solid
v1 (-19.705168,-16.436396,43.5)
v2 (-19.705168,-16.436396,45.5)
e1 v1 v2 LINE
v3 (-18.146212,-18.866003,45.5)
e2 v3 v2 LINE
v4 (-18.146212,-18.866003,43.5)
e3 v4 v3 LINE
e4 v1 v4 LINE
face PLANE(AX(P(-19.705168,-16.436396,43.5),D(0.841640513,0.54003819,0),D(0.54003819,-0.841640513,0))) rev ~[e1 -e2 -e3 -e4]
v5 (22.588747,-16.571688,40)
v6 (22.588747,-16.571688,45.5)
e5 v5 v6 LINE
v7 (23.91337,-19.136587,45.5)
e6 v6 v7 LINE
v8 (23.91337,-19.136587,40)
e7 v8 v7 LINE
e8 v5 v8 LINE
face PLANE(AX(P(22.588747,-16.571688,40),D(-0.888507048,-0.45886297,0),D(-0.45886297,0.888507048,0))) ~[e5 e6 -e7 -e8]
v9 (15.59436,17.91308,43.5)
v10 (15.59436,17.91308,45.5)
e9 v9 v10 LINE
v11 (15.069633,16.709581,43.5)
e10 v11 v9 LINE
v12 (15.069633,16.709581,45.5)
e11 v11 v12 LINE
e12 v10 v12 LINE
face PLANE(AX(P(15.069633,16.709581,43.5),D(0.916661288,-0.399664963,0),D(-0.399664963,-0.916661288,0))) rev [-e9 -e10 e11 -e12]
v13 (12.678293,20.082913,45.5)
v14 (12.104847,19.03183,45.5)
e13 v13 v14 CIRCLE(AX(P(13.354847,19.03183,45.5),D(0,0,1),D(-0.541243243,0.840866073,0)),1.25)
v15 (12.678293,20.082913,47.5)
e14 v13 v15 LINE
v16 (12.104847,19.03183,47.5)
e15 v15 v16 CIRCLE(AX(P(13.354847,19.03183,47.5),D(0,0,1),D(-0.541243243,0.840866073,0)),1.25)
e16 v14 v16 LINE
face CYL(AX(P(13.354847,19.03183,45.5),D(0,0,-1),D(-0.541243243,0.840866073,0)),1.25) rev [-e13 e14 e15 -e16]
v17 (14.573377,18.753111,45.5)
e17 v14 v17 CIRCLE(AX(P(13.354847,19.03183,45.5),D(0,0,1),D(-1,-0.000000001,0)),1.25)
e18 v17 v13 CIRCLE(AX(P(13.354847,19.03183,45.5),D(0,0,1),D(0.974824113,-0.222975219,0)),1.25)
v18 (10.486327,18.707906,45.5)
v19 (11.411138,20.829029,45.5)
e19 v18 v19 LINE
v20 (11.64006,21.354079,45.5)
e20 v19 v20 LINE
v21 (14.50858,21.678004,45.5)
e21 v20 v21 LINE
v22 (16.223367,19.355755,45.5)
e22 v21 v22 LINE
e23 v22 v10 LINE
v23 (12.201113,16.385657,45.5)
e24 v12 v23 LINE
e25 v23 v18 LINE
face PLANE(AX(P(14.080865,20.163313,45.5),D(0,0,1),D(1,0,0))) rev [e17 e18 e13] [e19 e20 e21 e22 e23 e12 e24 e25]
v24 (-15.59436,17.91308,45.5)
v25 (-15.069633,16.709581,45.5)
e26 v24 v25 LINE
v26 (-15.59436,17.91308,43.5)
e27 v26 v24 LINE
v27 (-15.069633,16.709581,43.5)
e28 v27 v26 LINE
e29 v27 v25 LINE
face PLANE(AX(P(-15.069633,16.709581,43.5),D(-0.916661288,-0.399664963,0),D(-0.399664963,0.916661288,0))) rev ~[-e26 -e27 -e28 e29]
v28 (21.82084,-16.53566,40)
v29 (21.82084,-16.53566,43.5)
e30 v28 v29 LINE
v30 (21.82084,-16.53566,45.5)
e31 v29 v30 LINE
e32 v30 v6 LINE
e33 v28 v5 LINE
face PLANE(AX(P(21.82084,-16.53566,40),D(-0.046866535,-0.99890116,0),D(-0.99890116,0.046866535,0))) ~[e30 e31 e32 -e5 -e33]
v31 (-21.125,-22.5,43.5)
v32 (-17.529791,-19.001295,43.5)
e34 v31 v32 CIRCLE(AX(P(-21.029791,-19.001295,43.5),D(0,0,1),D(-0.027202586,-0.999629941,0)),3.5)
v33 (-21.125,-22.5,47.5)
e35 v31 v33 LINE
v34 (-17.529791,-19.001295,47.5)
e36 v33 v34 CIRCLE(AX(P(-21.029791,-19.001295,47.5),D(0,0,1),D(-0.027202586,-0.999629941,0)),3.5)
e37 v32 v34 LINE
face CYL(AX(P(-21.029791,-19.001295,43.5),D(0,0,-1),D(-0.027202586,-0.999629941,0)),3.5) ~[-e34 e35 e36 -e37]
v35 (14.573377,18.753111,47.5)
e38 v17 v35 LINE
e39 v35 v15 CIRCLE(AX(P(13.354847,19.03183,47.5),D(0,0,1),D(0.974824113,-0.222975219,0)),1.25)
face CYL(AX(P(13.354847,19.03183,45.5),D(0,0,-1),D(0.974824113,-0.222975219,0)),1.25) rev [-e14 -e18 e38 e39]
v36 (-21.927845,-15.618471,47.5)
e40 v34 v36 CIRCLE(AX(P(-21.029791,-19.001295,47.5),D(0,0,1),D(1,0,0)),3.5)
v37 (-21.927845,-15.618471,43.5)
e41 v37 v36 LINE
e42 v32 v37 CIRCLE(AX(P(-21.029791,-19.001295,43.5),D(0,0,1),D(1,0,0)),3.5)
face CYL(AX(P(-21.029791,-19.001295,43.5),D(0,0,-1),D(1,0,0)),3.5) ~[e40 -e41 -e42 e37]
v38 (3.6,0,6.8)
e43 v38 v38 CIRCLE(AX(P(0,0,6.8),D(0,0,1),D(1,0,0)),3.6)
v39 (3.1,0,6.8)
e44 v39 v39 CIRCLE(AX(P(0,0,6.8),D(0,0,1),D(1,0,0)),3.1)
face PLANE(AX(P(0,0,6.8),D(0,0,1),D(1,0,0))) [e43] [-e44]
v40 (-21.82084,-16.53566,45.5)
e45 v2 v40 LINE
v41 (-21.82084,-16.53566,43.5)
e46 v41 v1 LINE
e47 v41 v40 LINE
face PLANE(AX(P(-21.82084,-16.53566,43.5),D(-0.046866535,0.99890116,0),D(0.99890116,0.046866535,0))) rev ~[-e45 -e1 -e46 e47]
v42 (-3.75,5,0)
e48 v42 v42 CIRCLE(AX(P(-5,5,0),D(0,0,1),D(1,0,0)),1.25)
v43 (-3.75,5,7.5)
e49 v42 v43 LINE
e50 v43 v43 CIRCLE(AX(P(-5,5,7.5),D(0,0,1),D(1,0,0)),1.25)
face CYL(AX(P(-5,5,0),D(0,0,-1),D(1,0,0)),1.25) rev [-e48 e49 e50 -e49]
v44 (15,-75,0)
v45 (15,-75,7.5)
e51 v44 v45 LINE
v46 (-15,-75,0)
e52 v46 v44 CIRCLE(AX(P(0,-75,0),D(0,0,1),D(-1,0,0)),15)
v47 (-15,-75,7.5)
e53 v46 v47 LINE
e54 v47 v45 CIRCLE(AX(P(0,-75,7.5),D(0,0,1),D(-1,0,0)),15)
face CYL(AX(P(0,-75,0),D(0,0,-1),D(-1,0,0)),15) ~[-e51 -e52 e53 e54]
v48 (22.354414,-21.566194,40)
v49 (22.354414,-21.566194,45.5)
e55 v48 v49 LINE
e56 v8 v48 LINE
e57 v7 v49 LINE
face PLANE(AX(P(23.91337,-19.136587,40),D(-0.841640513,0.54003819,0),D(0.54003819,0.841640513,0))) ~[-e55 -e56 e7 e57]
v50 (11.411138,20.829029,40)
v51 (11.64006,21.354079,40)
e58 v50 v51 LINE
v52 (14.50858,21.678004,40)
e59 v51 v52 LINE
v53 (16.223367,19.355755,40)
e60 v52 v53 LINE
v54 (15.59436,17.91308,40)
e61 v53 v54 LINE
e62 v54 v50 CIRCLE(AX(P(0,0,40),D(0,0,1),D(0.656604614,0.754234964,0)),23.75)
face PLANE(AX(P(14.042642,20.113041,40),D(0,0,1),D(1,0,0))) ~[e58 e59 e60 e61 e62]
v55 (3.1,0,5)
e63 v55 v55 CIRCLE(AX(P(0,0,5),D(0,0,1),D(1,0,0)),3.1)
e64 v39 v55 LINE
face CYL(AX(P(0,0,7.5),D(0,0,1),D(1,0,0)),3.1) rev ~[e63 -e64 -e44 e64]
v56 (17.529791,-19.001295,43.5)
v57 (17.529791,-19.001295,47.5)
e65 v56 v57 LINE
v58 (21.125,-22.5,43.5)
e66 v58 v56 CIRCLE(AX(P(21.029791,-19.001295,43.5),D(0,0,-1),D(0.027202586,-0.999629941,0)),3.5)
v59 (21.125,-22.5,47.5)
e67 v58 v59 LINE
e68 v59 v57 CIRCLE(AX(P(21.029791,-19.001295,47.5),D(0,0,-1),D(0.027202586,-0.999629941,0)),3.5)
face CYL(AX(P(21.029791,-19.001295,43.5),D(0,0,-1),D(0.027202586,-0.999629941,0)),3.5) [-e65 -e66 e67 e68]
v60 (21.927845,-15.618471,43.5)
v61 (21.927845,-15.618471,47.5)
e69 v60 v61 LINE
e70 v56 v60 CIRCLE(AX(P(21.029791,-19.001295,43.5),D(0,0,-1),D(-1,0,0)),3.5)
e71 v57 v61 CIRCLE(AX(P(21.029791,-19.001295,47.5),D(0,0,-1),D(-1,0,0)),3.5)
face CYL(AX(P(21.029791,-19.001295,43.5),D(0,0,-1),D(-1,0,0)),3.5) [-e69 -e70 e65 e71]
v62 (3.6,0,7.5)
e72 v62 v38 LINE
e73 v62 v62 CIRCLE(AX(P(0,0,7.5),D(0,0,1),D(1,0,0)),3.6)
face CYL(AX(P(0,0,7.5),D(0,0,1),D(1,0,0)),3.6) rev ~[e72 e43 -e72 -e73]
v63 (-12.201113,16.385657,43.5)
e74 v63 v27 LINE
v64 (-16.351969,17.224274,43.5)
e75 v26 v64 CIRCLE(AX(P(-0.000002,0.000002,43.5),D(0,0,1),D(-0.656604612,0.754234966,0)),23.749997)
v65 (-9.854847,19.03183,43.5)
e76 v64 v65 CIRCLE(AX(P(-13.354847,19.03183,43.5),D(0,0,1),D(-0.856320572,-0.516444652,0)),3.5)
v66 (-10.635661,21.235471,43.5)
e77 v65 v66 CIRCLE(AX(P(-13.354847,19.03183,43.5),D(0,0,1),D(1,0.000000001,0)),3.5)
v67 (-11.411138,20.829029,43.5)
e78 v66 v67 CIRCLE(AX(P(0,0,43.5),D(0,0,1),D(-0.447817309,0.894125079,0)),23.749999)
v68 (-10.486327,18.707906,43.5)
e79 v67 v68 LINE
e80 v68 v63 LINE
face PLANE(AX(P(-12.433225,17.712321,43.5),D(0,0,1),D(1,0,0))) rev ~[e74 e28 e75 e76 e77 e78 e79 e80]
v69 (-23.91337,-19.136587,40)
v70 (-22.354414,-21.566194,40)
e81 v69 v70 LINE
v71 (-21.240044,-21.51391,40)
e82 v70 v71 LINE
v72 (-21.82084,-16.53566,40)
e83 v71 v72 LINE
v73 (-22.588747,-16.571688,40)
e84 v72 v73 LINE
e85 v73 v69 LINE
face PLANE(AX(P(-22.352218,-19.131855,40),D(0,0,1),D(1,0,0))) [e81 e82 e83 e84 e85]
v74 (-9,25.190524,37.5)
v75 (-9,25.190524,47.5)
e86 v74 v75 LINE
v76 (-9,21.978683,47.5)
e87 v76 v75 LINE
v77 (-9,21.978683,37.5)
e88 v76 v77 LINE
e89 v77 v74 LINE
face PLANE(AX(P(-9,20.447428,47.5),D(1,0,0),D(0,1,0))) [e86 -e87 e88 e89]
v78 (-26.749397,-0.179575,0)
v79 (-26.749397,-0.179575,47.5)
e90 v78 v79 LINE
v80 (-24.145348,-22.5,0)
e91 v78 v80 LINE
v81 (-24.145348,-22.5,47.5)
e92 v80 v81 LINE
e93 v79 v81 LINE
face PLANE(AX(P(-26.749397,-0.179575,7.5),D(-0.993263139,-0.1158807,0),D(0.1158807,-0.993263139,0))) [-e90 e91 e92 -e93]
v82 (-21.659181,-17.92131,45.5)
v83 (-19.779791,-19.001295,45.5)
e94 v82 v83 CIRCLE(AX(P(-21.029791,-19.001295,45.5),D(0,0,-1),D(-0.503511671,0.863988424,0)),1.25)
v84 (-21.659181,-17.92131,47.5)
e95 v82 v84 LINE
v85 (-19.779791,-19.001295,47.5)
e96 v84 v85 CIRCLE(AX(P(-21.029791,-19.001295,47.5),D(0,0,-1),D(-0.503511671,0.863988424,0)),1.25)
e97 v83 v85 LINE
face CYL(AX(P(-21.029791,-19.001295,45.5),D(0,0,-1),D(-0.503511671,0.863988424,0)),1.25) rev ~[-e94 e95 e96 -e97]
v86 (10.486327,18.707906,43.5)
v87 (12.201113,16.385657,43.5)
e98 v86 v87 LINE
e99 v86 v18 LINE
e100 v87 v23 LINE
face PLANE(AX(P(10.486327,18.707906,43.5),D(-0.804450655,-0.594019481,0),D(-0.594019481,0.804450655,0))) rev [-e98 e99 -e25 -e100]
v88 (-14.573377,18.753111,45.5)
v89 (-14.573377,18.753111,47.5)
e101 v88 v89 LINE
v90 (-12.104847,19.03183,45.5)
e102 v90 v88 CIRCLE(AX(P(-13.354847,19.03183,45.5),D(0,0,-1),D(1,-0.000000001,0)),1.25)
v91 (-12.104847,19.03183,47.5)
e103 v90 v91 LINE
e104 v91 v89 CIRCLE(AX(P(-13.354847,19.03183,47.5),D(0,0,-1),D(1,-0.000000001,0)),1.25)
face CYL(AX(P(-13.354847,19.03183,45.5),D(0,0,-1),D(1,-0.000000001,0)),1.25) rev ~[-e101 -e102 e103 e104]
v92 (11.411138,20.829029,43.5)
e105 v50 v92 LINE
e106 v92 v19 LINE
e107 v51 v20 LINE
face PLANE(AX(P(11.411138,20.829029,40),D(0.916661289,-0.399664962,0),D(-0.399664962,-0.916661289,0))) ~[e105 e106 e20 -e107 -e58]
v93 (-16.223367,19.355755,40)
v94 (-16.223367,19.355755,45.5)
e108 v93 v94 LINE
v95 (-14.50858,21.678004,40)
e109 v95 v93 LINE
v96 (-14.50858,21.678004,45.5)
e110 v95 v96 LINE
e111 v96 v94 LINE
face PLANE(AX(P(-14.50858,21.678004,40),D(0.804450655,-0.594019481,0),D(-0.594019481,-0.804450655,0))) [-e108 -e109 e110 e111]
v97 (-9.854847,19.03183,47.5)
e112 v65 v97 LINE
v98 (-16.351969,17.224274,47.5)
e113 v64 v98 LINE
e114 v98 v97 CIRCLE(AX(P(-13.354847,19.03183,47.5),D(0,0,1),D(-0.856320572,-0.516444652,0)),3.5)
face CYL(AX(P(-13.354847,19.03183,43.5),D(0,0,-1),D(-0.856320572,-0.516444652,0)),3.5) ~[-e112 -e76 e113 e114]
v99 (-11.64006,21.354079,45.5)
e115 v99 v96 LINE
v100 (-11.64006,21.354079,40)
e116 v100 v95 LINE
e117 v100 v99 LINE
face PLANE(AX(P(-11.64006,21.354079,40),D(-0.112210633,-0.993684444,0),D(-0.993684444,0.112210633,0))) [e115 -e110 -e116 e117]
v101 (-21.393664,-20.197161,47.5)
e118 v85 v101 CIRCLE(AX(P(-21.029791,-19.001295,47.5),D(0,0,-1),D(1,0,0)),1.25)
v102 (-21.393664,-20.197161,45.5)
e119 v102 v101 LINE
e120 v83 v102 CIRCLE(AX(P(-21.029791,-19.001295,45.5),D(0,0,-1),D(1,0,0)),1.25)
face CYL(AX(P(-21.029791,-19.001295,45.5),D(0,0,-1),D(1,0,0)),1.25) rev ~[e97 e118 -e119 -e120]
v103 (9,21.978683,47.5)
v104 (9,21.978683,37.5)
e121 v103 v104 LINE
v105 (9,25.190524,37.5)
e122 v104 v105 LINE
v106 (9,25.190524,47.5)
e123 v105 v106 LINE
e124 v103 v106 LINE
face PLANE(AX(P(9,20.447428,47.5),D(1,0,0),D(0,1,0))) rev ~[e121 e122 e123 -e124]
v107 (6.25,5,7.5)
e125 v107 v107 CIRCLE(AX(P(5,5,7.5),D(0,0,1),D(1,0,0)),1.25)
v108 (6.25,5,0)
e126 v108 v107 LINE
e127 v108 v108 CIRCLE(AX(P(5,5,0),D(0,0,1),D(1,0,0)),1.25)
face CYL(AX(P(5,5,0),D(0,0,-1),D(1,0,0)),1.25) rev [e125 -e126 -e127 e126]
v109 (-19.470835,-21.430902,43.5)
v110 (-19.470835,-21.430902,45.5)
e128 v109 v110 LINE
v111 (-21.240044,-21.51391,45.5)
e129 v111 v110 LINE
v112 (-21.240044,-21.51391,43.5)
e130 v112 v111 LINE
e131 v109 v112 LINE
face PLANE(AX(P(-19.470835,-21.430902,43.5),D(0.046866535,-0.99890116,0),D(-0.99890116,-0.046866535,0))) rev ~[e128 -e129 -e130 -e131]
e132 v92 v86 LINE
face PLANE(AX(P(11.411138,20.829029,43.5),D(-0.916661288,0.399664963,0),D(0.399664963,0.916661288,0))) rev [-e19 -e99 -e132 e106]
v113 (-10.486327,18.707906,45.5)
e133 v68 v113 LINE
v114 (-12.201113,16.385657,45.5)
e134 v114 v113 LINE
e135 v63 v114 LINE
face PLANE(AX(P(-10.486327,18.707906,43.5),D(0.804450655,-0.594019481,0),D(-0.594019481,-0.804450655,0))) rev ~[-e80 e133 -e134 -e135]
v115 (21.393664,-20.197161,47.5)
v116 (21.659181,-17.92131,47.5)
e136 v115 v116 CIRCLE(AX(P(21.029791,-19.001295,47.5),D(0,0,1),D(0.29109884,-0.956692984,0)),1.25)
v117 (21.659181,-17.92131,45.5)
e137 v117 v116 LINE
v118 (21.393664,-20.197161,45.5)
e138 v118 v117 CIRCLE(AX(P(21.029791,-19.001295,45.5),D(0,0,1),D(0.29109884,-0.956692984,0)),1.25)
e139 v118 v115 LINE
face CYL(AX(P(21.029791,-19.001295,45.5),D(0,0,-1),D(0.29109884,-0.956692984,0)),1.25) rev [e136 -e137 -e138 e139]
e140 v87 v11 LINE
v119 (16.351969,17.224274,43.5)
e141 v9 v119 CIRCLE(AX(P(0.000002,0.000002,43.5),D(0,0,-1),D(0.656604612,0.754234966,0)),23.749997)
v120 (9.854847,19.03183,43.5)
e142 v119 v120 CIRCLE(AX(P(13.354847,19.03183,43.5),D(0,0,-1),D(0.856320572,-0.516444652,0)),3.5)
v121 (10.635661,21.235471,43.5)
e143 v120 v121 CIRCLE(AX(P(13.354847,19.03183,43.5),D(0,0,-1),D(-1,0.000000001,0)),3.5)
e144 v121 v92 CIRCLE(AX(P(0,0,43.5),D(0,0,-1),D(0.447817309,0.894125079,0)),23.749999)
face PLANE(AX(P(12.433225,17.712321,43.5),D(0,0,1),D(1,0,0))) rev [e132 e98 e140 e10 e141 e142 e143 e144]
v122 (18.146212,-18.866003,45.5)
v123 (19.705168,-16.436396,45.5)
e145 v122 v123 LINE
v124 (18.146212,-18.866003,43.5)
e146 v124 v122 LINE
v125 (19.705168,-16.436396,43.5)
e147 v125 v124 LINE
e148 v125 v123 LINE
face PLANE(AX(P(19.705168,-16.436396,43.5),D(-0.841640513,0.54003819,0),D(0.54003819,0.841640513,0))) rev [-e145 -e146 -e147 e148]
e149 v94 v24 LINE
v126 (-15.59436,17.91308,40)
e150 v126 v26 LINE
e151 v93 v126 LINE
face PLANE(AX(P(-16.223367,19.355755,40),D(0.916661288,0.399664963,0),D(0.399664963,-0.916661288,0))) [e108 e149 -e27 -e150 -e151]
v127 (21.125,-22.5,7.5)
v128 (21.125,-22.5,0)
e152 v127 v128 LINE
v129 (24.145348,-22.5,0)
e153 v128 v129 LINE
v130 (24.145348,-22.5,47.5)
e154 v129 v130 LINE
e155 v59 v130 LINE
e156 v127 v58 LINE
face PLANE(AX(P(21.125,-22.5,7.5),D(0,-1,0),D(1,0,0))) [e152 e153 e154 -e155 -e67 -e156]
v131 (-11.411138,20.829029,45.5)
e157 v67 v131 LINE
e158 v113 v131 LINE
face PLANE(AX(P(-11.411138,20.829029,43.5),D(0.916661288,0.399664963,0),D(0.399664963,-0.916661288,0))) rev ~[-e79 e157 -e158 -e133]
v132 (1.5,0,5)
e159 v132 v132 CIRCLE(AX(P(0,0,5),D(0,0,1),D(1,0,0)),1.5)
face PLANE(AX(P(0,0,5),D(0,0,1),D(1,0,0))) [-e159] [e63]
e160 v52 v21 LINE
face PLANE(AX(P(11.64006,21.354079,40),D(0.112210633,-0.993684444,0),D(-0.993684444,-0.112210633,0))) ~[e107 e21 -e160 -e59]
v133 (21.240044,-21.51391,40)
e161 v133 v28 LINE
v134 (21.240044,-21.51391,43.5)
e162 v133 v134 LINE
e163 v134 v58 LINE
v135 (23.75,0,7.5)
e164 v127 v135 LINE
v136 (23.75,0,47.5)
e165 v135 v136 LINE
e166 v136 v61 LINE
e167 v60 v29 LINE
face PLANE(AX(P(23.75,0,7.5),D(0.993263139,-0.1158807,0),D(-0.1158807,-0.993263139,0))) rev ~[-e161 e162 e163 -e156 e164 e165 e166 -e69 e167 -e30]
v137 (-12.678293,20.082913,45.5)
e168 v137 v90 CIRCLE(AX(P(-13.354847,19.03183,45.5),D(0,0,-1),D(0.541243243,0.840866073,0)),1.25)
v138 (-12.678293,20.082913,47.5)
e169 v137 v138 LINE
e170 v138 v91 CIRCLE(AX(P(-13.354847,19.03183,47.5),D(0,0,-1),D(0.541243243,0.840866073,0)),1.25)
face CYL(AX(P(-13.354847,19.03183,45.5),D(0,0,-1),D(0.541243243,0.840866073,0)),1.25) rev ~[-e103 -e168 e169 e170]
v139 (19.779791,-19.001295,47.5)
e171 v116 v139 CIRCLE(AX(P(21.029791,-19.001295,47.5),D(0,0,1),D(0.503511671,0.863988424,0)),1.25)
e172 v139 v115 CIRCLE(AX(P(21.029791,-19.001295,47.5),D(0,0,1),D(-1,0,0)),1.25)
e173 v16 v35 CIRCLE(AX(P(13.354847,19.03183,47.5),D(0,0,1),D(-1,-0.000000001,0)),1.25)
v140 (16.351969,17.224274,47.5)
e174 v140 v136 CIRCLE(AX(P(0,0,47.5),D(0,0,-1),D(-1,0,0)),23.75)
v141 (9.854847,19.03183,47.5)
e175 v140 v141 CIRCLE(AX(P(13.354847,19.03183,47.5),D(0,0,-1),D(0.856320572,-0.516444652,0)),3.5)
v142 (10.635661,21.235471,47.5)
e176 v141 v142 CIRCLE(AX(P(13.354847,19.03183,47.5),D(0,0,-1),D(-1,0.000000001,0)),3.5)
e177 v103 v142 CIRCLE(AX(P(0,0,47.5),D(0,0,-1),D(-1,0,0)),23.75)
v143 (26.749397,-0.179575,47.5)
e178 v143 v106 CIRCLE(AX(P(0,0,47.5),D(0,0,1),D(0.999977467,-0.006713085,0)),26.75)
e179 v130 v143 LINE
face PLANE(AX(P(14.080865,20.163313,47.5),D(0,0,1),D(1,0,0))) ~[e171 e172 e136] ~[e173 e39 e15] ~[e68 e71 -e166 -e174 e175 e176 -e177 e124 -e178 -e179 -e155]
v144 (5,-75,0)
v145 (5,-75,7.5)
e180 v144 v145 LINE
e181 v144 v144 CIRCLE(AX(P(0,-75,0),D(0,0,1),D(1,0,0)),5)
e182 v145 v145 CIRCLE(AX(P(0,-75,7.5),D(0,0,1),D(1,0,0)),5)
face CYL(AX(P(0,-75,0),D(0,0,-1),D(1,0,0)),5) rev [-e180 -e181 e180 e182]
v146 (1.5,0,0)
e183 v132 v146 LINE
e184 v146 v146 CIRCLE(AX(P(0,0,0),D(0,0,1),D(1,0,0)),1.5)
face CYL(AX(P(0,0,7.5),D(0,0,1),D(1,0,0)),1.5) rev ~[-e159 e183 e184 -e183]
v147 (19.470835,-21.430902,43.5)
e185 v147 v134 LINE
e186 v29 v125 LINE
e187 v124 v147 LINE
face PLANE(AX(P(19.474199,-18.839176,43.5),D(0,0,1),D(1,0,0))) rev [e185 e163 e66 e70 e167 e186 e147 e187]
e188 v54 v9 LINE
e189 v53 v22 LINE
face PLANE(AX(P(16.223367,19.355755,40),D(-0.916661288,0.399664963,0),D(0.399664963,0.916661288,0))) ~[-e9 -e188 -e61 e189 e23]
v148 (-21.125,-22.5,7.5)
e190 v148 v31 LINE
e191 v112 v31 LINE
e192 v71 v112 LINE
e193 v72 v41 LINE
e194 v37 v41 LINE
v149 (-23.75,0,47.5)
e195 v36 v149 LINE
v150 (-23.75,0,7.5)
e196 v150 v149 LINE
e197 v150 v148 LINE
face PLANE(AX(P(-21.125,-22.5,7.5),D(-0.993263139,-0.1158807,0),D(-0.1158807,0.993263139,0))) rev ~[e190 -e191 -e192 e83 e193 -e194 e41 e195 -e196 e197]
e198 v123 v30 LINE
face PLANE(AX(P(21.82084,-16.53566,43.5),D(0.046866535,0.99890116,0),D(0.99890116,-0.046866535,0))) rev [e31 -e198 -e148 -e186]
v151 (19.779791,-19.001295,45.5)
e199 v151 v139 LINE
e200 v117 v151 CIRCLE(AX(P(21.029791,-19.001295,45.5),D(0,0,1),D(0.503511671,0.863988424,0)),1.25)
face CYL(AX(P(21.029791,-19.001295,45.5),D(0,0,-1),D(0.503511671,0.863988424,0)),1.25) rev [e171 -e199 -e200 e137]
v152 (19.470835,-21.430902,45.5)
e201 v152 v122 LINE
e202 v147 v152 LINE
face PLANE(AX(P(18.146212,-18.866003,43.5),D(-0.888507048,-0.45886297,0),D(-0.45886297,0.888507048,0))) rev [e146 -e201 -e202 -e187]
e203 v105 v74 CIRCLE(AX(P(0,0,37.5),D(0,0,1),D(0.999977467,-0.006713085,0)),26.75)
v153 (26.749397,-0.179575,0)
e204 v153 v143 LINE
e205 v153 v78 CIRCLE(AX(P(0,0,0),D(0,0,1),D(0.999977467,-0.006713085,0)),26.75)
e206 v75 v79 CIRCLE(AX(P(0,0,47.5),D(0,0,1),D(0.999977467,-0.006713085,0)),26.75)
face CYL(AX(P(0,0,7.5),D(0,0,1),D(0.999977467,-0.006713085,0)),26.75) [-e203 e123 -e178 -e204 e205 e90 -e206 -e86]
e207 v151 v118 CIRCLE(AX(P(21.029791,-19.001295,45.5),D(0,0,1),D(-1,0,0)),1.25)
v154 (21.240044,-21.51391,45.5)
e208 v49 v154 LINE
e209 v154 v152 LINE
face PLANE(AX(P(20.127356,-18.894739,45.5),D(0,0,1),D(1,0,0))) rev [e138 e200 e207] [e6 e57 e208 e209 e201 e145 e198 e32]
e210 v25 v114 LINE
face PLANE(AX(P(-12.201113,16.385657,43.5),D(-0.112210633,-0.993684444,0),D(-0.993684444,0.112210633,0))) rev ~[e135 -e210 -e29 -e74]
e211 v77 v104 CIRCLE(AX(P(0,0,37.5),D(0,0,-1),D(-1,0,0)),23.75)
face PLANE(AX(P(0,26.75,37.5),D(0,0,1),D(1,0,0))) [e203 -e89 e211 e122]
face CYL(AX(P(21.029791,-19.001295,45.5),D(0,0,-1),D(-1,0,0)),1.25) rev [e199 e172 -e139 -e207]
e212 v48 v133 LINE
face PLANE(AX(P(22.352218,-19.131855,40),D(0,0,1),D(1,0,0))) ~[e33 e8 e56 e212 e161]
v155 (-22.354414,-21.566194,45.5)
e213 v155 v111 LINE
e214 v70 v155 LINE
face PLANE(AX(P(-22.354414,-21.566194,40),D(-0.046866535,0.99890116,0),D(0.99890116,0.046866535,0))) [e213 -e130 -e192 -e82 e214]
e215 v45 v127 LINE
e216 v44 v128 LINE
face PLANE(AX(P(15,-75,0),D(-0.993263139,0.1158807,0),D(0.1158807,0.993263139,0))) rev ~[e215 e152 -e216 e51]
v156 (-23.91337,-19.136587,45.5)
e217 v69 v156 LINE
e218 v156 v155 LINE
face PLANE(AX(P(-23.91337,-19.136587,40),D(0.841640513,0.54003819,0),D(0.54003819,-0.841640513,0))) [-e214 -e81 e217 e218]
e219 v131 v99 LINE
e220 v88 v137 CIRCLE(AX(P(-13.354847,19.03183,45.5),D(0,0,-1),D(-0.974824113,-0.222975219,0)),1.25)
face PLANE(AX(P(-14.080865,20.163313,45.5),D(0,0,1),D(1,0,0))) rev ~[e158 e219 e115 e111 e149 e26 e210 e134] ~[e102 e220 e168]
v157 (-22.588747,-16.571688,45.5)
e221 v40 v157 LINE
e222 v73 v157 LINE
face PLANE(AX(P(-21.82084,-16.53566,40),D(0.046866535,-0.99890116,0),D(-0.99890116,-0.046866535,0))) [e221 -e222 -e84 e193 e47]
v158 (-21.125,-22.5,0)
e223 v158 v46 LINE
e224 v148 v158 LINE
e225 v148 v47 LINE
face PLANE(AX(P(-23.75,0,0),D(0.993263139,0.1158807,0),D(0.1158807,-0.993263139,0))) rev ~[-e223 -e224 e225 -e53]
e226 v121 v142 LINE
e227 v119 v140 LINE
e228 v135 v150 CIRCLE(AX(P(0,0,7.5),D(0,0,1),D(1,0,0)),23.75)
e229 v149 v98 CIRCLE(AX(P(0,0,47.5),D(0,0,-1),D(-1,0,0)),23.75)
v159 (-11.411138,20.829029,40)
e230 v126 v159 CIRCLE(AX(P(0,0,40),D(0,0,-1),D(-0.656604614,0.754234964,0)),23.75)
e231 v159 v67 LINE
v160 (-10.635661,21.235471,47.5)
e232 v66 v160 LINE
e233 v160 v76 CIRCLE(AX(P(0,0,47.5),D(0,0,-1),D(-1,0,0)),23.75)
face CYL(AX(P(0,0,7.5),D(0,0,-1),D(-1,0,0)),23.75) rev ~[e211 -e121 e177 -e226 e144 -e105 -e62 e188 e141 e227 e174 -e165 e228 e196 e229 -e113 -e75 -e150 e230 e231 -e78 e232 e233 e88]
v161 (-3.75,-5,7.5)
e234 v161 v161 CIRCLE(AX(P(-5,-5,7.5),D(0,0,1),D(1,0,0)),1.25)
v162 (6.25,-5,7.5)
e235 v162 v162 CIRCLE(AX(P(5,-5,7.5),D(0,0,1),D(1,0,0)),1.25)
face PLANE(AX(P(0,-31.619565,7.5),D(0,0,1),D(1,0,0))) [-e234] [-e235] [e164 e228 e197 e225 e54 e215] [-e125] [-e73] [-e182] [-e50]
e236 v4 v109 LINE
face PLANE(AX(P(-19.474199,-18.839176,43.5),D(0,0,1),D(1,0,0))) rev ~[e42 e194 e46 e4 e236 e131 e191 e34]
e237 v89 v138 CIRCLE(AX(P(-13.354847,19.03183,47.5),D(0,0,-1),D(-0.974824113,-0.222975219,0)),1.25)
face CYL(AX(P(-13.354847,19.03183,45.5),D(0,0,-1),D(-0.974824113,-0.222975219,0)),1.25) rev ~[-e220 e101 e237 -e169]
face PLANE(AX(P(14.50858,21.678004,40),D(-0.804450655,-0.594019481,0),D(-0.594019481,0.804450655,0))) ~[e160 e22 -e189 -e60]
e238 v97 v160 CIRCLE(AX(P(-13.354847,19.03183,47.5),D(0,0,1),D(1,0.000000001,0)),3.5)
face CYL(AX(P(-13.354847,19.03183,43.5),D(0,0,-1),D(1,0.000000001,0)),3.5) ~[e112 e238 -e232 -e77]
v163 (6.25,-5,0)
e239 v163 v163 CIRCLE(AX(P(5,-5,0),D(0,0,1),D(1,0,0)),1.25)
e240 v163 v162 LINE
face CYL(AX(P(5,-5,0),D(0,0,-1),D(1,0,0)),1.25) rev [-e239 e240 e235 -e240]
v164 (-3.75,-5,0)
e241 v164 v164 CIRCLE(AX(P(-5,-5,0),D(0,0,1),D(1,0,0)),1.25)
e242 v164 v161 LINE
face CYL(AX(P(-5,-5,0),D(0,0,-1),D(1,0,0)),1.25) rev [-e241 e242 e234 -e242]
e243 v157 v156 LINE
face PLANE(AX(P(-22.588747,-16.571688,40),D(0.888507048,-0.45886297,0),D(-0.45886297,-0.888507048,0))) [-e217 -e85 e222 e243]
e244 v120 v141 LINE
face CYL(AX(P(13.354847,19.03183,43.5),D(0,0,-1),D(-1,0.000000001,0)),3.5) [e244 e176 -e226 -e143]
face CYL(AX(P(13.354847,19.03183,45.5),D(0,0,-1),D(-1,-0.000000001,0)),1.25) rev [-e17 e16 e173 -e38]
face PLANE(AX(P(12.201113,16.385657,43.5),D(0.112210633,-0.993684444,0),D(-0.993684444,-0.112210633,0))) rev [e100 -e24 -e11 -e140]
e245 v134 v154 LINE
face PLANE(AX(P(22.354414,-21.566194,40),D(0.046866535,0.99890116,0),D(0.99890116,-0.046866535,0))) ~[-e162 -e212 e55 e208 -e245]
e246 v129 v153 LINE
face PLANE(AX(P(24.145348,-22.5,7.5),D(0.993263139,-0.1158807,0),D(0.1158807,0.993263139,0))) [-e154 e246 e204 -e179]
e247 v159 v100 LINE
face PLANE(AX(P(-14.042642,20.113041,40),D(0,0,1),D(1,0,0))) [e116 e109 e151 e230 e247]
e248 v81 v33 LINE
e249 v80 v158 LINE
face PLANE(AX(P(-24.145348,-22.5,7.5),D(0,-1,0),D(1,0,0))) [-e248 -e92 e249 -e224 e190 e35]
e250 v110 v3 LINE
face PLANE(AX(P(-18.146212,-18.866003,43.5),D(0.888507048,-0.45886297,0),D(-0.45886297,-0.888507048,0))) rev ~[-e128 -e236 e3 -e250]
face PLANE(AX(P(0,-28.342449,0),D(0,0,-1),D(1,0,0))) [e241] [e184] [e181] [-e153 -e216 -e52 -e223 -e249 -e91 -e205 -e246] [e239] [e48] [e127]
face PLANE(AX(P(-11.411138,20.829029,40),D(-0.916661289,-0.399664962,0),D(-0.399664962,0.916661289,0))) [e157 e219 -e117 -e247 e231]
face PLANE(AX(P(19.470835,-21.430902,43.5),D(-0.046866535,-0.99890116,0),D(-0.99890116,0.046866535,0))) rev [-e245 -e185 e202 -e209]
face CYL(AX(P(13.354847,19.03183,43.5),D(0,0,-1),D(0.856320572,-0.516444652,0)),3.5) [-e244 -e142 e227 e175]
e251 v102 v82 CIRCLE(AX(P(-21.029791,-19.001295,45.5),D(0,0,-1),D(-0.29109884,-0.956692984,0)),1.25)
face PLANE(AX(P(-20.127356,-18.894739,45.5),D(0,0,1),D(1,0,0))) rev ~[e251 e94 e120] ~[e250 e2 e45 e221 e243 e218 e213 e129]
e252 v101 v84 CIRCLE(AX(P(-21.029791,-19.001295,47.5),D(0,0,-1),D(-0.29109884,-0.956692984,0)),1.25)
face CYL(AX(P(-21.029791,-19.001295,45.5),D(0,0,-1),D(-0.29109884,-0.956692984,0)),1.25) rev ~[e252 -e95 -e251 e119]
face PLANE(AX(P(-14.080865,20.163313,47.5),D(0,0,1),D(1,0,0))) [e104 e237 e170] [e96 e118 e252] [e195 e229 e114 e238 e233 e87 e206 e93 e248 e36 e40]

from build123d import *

# Parameters (mm, degrees)
ESQUISSE1_R                    = 1.25
ESQUISSE1_R_2                  = 5
BOSS_EXTRU_1_DEPTH             = 7.5
BOSS_EXTRU_2_DEPTH             = 40
BOSS_EXTRU_2_DIRECTION_2_REACH = 95.383
ESQUISSE4_W                    = 18
ESQUISSE4_H                    = 12.605144054
ENL_V_MAT_EXTRU_1_DEPTH        = 10
ENL_V_START                    = -7.5
ENL_V_MAT_EXTRU_2_DEPTH        = 7.5
BOSS_EXTRU_3_START             = -4
BOSS_EXTRU_3_DEPTH             = 4
BOSS_EXTRU_4_START             = -2
BOSS_EXTRU_4_DEPTH             = 2
ESQUISSE6_R                    = 1.5
ENL_V_MAT_EXTRU_3_DEPTH        = 10
ESQUISSE7_R                    = 3.1
ENL_V_MAT_EXTRU_4_DEPTH        = 2.5
ESQUISSE8_R                    = 3.6
ENL_V_MAT_EXTRU_5_DEPTH        = 0.7


with BuildPart() as part:
    # Esquisse1 → Boss.-Extru.1 (new body)
    with BuildSketch(Plane.XY):
        with BuildLine():
            ThreePointArc((23.75, 0), (0, 23.75), (-23.75, 0))
            Line((-23.75, 0), (-15, -75))
            ThreePointArc((-15, -75), (0, -90), (15, -75))
            Line((15, -75), (23.75, 0))
        make_face()
        with Locations((-5, 5)):
            Circle(ESQUISSE1_R, mode=Mode.SUBTRACT)
        with Locations((5, 5)):
            Circle(ESQUISSE1_R, mode=Mode.SUBTRACT)
        with Locations((5, -5)):
            Circle(ESQUISSE1_R, mode=Mode.SUBTRACT)
        with Locations((-5, -5)):
            Circle(ESQUISSE1_R, mode=Mode.SUBTRACT)
        with Locations((0, -75)):
            Circle(ESQUISSE1_R_2, mode=Mode.SUBTRACT)
    extrude(amount=BOSS_EXTRU_1_DEPTH)

    # Esquisse2 → Boss.-Extru.2 (add)
    with BuildSketch(Plane.XY.offset(7.5)):
        with BuildLine():
            ThreePointArc((-23.75, 0), (0, 23.75), (23.75, 0))
            Line((23.75, 0), (21.125, -22.5))
            Line((21.125, -22.5), (24.145347662, -22.5))
            Line((24.145347662, -22.5), (26.749397242, -0.17957503))
            ThreePointArc((26.749397242, -0.17957503), (0, 26.75), (-26.749397242, -0.17957503))
            Line((-26.749397242, -0.17957503), (-24.145347662, -22.5))
            Line((-24.145347662, -22.5), (-21.125, -22.5))
            Line((-21.125, -22.5), (-23.75, 0))
        make_face()
    extrude(amount=BOSS_EXTRU_2_DEPTH)

    # Boss.-Extru.2 direction 2: up to this face of the body (flat: up to its plane)
    boss_extru_2_direction_2_end = Plane(part.part.faces().sort_by_distance((0, -28.342449308, 0))[0])
    # Esquisse2 → Boss.-Extru.2 direction 2 (add, up to the picked face)
    with BuildSketch(Plane.XY.offset(7.5), mode=Mode.PRIVATE) as boss_extru_2_direction_2_sk1:
        with BuildLine():
            ThreePointArc((-23.75, 0), (0, 23.75), (23.75, 0))
            Line((23.75, 0), (21.125, -22.5))
            Line((21.125, -22.5), (24.145347662, -22.5))
            Line((24.145347662, -22.5), (26.749397242, -0.17957503))
            ThreePointArc((26.749397242, -0.17957503), (0, 26.75), (-26.749397242, -0.17957503))
            Line((-26.749397242, -0.17957503), (-24.145347662, -22.5))
            Line((-24.145347662, -22.5), (-21.125, -22.5))
            Line((-21.125, -22.5), (-23.75, 0))
        make_face()
    boss_extru_2_direction_2_tool1 = split(extrude(boss_extru_2_direction_2_sk1.sketch, amount=-BOSS_EXTRU_2_DIRECTION_2_REACH, mode=Mode.PRIVATE), bisect_by=boss_extru_2_direction_2_end, keep=Keep.BOTH, mode=Mode.PRIVATE)
    add(boss_extru_2_direction_2_tool1.solids().sort_by(Axis((0, 24.477173, 7.5), (0, 0, -1)))[0])

    # Esquisse4 → Enlèv. mat.-Extru.1 (cut)
    with BuildSketch(Plane.XY.offset(47.5)):
        with Locations((0, 26.75)):
            Rectangle(ESQUISSE4_W, ESQUISSE4_H)
    extrude(amount=-ENL_V_MAT_EXTRU_1_DEPTH, mode=Mode.SUBTRACT)

    # Esquisse5 → Enlèv. mat.-Extru.2 (cut)
    with BuildSketch(Plane.XY.offset(47.5).offset(ENL_V_START)):
        with BuildLine():
            Line((-11.411137634, 20.829028732), (-11.640060124, 21.354079473))
            Line((-11.640060124, 21.354079473), (-14.50858003, 21.678003669))
            Line((-14.50858003, 21.678003669), (-16.223366565, 19.355754657))
            Line((-16.223366565, 19.355754657), (-15.594359578, 17.913080398))
            ThreePointArc((-15.594359578, 17.913080398), (-13.581233692, 19.483649335), (-11.411137634, 20.829028732))
        make_face()
        Polygon((-21.820839715, -16.535659582), (-22.588746921, -16.571688322), (-23.913370218, -19.136587239), (-22.354414246, -21.566194123), (-21.240043834, -21.513909991), align=None)
    enl_v_mat_extru_2 = extrude(amount=ENL_V_MAT_EXTRU_2_DEPTH, mode=Mode.SUBTRACT)

    # Esquisse5<3> → Boss.-Extru.3 (add)
    with BuildSketch(Plane.XY.offset(47.5).offset(BOSS_EXTRU_3_START)):
        with BuildLine():
            ThreePointArc((-10.635661114, 21.235470625), (-11.025272446, 21.035823433), (-11.411137634, 20.829028732))
            Line((-11.411137634, 20.829028732), (-10.486326754, 18.707906265))
            Line((-10.486326754, 18.707906265), (-12.201113289, 16.385657254))
            Line((-12.201113289, 16.385657254), (-15.069633195, 16.70958145))
            Line((-15.069633195, 16.70958145), (-15.594359578, 17.913080398))
            ThreePointArc((-15.594359578, 17.913080398), (-15.976876587, 17.572760584), (-16.351968659, 17.224274178))
            ThreePointArc((-16.351968659, 17.224274178), (-12.416744053, 15.659892813), (-9.854846659, 19.031830461))
            ThreePointArc((-9.854846659, 19.031830461), (-10.055820333, 20.200772417), (-10.635661114, 21.235470625))
        make_face()
        with BuildLine():
            ThreePointArc((-17.529790949, -19.001295206), (-18.895919972, -16.227021489), (-21.927845037, -15.618471111))
            Line((-21.927845037, -15.618471111), (-21.820839715, -16.535659582))
            Line((-21.820839715, -16.535659582), (-19.705167652, -16.436396289))
            Line((-19.705167652, -16.436396289), (-18.14621168, -18.866003173))
            Line((-18.14621168, -18.866003173), (-19.470834977, -21.43090209))
            Line((-19.470834977, -21.43090209), (-21.240043834, -21.513909991))
            Line((-21.240043834, -21.513909991), (-21.125, -22.5))
            ThreePointArc((-21.125, -22.5), (-18.588810785, -21.509604565), (-17.529790949, -19.001295206))
        make_face()
    boss_extru_3 = extrude(amount=BOSS_EXTRU_3_DEPTH)

    # Esquisse5<4> → Boss.-Extru.4 (add)
    with BuildSketch(Plane.XY.offset(47.5).offset(BOSS_EXTRU_4_START)):
        with BuildLine():
            Line((-11.411137634, 20.829028732), (-11.640060124, 21.354079473))
            Line((-11.640060124, 21.354079473), (-14.50858003, 21.678003669))
            Line((-14.50858003, 21.678003669), (-16.223366565, 19.355754657))
            Line((-16.223366565, 19.355754657), (-15.594359578, 17.913080398))
            ThreePointArc((-15.594359578, 17.913080398), (-15.089714795, 18.340201945), (-14.573376801, 18.753111438))
            ThreePointArc((-14.573376801, 18.753111438), (-14.072849168, 20.055047153), (-12.678292605, 20.082913051))
            ThreePointArc((-12.678292605, 20.082913051), (-12.050491046, 20.465780355), (-11.411137634, 20.829028732))
        make_face()
        with BuildLine():
            Line((-10.486326754, 18.707906265), (-11.411137634, 20.829028732))
            ThreePointArc((-11.411137634, 20.829028732), (-12.050491046, 20.465780355), (-12.678292605, 20.082913051))
            ThreePointArc((-12.678292605, 20.082913051), (-12.257533448, 19.630498747), (-12.104846659, 19.031830461))
            ThreePointArc((-12.104846659, 19.031830461), (-13.214601654, 17.789722842), (-14.573376801, 18.753111438))
            ThreePointArc((-14.573376801, 18.753111438), (-15.089714795, 18.340201945), (-15.594359578, 17.913080398))
            Line((-15.594359578, 17.913080398), (-15.069633195, 16.70958145))
            Line((-15.069633195, 16.70958145), (-12.201113289, 16.385657254))
            Line((-12.201113289, 16.385657254), (-10.486326754, 18.707906265))
        make_face()
        with BuildLine():
            Line((-19.705167652, -16.436396289), (-21.820839715, -16.535659582))
            Line((-21.820839715, -16.535659582), (-21.659180538, -17.921309676))
            ThreePointArc((-21.659180538, -17.921309676), (-20.406989611, -17.917497027), (-19.779790949, -19.001295206))
            ThreePointArc((-19.779790949, -19.001295206), (-20.285594046, -20.005621333), (-21.393664499, -20.197161436))
            Line((-21.393664499, -20.197161436), (-21.240043834, -21.513909991))
            Line((-21.240043834, -21.513909991), (-19.470834977, -21.43090209))
            Line((-19.470834977, -21.43090209), (-18.14621168, -18.866003173))
            Line((-18.14621168, -18.866003173), (-19.705167652, -16.436396289))
        make_face()
        with BuildLine():
            Line((-21.659180538, -17.921309676), (-21.820839715, -16.535659582))
            Line((-21.820839715, -16.535659582), (-22.588746921, -16.571688322))
            Line((-22.588746921, -16.571688322), (-23.913370218, -19.136587239))
            Line((-23.913370218, -19.136587239), (-22.354414246, -21.566194123))
            Line((-22.354414246, -21.566194123), (-21.240043834, -21.513909991))
            Line((-21.240043834, -21.513909991), (-21.393664499, -20.197161436))
            ThreePointArc((-21.393664499, -20.197161436), (-22.271369873, -19.14614608), (-21.659180538, -17.921309676))
        make_face()
    boss_extru_4 = extrude(amount=BOSS_EXTRU_4_DEPTH)

    # Symétrie1: Enlèv. mat.-Extru.2, Boss.-Extru.3, Boss.-Extru.4 across plane
    add(enl_v_mat_extru_2.mirror(Plane(origin=(0, 0, 0), x_dir=(0, 0, 1), z_dir=(1, 0, 0))), mode=Mode.SUBTRACT)
    add(boss_extru_3.mirror(Plane(origin=(0, 0, 0), x_dir=(0, 0, 1), z_dir=(1, 0, 0))))
    add(boss_extru_4.mirror(Plane(origin=(0, 0, 0), x_dir=(0, 0, 1), z_dir=(1, 0, 0))))

    # Esquisse6 → Enlèv. mat.-Extru.3 (cut)
    with BuildSketch(Plane.XY.offset(7.5)):
        Circle(ESQUISSE6_R)
    extrude(amount=-ENL_V_MAT_EXTRU_3_DEPTH, mode=Mode.SUBTRACT)

    # Esquisse7 → Enlèv. mat.-Extru.4 (cut)
    with BuildSketch(Plane.XY.offset(7.5)):
        Circle(ESQUISSE7_R)
    extrude(amount=-ENL_V_MAT_EXTRU_4_DEPTH, mode=Mode.SUBTRACT)

    # Esquisse8 → Enlèv. mat.-Extru.5 (cut)
    with BuildSketch(Plane.XY.offset(7.5)):
        Circle(ESQUISSE8_R)
    extrude(amount=-ENL_V_MAT_EXTRU_5_DEPTH, mode=Mode.SUBTRACT)


solid = part.part
